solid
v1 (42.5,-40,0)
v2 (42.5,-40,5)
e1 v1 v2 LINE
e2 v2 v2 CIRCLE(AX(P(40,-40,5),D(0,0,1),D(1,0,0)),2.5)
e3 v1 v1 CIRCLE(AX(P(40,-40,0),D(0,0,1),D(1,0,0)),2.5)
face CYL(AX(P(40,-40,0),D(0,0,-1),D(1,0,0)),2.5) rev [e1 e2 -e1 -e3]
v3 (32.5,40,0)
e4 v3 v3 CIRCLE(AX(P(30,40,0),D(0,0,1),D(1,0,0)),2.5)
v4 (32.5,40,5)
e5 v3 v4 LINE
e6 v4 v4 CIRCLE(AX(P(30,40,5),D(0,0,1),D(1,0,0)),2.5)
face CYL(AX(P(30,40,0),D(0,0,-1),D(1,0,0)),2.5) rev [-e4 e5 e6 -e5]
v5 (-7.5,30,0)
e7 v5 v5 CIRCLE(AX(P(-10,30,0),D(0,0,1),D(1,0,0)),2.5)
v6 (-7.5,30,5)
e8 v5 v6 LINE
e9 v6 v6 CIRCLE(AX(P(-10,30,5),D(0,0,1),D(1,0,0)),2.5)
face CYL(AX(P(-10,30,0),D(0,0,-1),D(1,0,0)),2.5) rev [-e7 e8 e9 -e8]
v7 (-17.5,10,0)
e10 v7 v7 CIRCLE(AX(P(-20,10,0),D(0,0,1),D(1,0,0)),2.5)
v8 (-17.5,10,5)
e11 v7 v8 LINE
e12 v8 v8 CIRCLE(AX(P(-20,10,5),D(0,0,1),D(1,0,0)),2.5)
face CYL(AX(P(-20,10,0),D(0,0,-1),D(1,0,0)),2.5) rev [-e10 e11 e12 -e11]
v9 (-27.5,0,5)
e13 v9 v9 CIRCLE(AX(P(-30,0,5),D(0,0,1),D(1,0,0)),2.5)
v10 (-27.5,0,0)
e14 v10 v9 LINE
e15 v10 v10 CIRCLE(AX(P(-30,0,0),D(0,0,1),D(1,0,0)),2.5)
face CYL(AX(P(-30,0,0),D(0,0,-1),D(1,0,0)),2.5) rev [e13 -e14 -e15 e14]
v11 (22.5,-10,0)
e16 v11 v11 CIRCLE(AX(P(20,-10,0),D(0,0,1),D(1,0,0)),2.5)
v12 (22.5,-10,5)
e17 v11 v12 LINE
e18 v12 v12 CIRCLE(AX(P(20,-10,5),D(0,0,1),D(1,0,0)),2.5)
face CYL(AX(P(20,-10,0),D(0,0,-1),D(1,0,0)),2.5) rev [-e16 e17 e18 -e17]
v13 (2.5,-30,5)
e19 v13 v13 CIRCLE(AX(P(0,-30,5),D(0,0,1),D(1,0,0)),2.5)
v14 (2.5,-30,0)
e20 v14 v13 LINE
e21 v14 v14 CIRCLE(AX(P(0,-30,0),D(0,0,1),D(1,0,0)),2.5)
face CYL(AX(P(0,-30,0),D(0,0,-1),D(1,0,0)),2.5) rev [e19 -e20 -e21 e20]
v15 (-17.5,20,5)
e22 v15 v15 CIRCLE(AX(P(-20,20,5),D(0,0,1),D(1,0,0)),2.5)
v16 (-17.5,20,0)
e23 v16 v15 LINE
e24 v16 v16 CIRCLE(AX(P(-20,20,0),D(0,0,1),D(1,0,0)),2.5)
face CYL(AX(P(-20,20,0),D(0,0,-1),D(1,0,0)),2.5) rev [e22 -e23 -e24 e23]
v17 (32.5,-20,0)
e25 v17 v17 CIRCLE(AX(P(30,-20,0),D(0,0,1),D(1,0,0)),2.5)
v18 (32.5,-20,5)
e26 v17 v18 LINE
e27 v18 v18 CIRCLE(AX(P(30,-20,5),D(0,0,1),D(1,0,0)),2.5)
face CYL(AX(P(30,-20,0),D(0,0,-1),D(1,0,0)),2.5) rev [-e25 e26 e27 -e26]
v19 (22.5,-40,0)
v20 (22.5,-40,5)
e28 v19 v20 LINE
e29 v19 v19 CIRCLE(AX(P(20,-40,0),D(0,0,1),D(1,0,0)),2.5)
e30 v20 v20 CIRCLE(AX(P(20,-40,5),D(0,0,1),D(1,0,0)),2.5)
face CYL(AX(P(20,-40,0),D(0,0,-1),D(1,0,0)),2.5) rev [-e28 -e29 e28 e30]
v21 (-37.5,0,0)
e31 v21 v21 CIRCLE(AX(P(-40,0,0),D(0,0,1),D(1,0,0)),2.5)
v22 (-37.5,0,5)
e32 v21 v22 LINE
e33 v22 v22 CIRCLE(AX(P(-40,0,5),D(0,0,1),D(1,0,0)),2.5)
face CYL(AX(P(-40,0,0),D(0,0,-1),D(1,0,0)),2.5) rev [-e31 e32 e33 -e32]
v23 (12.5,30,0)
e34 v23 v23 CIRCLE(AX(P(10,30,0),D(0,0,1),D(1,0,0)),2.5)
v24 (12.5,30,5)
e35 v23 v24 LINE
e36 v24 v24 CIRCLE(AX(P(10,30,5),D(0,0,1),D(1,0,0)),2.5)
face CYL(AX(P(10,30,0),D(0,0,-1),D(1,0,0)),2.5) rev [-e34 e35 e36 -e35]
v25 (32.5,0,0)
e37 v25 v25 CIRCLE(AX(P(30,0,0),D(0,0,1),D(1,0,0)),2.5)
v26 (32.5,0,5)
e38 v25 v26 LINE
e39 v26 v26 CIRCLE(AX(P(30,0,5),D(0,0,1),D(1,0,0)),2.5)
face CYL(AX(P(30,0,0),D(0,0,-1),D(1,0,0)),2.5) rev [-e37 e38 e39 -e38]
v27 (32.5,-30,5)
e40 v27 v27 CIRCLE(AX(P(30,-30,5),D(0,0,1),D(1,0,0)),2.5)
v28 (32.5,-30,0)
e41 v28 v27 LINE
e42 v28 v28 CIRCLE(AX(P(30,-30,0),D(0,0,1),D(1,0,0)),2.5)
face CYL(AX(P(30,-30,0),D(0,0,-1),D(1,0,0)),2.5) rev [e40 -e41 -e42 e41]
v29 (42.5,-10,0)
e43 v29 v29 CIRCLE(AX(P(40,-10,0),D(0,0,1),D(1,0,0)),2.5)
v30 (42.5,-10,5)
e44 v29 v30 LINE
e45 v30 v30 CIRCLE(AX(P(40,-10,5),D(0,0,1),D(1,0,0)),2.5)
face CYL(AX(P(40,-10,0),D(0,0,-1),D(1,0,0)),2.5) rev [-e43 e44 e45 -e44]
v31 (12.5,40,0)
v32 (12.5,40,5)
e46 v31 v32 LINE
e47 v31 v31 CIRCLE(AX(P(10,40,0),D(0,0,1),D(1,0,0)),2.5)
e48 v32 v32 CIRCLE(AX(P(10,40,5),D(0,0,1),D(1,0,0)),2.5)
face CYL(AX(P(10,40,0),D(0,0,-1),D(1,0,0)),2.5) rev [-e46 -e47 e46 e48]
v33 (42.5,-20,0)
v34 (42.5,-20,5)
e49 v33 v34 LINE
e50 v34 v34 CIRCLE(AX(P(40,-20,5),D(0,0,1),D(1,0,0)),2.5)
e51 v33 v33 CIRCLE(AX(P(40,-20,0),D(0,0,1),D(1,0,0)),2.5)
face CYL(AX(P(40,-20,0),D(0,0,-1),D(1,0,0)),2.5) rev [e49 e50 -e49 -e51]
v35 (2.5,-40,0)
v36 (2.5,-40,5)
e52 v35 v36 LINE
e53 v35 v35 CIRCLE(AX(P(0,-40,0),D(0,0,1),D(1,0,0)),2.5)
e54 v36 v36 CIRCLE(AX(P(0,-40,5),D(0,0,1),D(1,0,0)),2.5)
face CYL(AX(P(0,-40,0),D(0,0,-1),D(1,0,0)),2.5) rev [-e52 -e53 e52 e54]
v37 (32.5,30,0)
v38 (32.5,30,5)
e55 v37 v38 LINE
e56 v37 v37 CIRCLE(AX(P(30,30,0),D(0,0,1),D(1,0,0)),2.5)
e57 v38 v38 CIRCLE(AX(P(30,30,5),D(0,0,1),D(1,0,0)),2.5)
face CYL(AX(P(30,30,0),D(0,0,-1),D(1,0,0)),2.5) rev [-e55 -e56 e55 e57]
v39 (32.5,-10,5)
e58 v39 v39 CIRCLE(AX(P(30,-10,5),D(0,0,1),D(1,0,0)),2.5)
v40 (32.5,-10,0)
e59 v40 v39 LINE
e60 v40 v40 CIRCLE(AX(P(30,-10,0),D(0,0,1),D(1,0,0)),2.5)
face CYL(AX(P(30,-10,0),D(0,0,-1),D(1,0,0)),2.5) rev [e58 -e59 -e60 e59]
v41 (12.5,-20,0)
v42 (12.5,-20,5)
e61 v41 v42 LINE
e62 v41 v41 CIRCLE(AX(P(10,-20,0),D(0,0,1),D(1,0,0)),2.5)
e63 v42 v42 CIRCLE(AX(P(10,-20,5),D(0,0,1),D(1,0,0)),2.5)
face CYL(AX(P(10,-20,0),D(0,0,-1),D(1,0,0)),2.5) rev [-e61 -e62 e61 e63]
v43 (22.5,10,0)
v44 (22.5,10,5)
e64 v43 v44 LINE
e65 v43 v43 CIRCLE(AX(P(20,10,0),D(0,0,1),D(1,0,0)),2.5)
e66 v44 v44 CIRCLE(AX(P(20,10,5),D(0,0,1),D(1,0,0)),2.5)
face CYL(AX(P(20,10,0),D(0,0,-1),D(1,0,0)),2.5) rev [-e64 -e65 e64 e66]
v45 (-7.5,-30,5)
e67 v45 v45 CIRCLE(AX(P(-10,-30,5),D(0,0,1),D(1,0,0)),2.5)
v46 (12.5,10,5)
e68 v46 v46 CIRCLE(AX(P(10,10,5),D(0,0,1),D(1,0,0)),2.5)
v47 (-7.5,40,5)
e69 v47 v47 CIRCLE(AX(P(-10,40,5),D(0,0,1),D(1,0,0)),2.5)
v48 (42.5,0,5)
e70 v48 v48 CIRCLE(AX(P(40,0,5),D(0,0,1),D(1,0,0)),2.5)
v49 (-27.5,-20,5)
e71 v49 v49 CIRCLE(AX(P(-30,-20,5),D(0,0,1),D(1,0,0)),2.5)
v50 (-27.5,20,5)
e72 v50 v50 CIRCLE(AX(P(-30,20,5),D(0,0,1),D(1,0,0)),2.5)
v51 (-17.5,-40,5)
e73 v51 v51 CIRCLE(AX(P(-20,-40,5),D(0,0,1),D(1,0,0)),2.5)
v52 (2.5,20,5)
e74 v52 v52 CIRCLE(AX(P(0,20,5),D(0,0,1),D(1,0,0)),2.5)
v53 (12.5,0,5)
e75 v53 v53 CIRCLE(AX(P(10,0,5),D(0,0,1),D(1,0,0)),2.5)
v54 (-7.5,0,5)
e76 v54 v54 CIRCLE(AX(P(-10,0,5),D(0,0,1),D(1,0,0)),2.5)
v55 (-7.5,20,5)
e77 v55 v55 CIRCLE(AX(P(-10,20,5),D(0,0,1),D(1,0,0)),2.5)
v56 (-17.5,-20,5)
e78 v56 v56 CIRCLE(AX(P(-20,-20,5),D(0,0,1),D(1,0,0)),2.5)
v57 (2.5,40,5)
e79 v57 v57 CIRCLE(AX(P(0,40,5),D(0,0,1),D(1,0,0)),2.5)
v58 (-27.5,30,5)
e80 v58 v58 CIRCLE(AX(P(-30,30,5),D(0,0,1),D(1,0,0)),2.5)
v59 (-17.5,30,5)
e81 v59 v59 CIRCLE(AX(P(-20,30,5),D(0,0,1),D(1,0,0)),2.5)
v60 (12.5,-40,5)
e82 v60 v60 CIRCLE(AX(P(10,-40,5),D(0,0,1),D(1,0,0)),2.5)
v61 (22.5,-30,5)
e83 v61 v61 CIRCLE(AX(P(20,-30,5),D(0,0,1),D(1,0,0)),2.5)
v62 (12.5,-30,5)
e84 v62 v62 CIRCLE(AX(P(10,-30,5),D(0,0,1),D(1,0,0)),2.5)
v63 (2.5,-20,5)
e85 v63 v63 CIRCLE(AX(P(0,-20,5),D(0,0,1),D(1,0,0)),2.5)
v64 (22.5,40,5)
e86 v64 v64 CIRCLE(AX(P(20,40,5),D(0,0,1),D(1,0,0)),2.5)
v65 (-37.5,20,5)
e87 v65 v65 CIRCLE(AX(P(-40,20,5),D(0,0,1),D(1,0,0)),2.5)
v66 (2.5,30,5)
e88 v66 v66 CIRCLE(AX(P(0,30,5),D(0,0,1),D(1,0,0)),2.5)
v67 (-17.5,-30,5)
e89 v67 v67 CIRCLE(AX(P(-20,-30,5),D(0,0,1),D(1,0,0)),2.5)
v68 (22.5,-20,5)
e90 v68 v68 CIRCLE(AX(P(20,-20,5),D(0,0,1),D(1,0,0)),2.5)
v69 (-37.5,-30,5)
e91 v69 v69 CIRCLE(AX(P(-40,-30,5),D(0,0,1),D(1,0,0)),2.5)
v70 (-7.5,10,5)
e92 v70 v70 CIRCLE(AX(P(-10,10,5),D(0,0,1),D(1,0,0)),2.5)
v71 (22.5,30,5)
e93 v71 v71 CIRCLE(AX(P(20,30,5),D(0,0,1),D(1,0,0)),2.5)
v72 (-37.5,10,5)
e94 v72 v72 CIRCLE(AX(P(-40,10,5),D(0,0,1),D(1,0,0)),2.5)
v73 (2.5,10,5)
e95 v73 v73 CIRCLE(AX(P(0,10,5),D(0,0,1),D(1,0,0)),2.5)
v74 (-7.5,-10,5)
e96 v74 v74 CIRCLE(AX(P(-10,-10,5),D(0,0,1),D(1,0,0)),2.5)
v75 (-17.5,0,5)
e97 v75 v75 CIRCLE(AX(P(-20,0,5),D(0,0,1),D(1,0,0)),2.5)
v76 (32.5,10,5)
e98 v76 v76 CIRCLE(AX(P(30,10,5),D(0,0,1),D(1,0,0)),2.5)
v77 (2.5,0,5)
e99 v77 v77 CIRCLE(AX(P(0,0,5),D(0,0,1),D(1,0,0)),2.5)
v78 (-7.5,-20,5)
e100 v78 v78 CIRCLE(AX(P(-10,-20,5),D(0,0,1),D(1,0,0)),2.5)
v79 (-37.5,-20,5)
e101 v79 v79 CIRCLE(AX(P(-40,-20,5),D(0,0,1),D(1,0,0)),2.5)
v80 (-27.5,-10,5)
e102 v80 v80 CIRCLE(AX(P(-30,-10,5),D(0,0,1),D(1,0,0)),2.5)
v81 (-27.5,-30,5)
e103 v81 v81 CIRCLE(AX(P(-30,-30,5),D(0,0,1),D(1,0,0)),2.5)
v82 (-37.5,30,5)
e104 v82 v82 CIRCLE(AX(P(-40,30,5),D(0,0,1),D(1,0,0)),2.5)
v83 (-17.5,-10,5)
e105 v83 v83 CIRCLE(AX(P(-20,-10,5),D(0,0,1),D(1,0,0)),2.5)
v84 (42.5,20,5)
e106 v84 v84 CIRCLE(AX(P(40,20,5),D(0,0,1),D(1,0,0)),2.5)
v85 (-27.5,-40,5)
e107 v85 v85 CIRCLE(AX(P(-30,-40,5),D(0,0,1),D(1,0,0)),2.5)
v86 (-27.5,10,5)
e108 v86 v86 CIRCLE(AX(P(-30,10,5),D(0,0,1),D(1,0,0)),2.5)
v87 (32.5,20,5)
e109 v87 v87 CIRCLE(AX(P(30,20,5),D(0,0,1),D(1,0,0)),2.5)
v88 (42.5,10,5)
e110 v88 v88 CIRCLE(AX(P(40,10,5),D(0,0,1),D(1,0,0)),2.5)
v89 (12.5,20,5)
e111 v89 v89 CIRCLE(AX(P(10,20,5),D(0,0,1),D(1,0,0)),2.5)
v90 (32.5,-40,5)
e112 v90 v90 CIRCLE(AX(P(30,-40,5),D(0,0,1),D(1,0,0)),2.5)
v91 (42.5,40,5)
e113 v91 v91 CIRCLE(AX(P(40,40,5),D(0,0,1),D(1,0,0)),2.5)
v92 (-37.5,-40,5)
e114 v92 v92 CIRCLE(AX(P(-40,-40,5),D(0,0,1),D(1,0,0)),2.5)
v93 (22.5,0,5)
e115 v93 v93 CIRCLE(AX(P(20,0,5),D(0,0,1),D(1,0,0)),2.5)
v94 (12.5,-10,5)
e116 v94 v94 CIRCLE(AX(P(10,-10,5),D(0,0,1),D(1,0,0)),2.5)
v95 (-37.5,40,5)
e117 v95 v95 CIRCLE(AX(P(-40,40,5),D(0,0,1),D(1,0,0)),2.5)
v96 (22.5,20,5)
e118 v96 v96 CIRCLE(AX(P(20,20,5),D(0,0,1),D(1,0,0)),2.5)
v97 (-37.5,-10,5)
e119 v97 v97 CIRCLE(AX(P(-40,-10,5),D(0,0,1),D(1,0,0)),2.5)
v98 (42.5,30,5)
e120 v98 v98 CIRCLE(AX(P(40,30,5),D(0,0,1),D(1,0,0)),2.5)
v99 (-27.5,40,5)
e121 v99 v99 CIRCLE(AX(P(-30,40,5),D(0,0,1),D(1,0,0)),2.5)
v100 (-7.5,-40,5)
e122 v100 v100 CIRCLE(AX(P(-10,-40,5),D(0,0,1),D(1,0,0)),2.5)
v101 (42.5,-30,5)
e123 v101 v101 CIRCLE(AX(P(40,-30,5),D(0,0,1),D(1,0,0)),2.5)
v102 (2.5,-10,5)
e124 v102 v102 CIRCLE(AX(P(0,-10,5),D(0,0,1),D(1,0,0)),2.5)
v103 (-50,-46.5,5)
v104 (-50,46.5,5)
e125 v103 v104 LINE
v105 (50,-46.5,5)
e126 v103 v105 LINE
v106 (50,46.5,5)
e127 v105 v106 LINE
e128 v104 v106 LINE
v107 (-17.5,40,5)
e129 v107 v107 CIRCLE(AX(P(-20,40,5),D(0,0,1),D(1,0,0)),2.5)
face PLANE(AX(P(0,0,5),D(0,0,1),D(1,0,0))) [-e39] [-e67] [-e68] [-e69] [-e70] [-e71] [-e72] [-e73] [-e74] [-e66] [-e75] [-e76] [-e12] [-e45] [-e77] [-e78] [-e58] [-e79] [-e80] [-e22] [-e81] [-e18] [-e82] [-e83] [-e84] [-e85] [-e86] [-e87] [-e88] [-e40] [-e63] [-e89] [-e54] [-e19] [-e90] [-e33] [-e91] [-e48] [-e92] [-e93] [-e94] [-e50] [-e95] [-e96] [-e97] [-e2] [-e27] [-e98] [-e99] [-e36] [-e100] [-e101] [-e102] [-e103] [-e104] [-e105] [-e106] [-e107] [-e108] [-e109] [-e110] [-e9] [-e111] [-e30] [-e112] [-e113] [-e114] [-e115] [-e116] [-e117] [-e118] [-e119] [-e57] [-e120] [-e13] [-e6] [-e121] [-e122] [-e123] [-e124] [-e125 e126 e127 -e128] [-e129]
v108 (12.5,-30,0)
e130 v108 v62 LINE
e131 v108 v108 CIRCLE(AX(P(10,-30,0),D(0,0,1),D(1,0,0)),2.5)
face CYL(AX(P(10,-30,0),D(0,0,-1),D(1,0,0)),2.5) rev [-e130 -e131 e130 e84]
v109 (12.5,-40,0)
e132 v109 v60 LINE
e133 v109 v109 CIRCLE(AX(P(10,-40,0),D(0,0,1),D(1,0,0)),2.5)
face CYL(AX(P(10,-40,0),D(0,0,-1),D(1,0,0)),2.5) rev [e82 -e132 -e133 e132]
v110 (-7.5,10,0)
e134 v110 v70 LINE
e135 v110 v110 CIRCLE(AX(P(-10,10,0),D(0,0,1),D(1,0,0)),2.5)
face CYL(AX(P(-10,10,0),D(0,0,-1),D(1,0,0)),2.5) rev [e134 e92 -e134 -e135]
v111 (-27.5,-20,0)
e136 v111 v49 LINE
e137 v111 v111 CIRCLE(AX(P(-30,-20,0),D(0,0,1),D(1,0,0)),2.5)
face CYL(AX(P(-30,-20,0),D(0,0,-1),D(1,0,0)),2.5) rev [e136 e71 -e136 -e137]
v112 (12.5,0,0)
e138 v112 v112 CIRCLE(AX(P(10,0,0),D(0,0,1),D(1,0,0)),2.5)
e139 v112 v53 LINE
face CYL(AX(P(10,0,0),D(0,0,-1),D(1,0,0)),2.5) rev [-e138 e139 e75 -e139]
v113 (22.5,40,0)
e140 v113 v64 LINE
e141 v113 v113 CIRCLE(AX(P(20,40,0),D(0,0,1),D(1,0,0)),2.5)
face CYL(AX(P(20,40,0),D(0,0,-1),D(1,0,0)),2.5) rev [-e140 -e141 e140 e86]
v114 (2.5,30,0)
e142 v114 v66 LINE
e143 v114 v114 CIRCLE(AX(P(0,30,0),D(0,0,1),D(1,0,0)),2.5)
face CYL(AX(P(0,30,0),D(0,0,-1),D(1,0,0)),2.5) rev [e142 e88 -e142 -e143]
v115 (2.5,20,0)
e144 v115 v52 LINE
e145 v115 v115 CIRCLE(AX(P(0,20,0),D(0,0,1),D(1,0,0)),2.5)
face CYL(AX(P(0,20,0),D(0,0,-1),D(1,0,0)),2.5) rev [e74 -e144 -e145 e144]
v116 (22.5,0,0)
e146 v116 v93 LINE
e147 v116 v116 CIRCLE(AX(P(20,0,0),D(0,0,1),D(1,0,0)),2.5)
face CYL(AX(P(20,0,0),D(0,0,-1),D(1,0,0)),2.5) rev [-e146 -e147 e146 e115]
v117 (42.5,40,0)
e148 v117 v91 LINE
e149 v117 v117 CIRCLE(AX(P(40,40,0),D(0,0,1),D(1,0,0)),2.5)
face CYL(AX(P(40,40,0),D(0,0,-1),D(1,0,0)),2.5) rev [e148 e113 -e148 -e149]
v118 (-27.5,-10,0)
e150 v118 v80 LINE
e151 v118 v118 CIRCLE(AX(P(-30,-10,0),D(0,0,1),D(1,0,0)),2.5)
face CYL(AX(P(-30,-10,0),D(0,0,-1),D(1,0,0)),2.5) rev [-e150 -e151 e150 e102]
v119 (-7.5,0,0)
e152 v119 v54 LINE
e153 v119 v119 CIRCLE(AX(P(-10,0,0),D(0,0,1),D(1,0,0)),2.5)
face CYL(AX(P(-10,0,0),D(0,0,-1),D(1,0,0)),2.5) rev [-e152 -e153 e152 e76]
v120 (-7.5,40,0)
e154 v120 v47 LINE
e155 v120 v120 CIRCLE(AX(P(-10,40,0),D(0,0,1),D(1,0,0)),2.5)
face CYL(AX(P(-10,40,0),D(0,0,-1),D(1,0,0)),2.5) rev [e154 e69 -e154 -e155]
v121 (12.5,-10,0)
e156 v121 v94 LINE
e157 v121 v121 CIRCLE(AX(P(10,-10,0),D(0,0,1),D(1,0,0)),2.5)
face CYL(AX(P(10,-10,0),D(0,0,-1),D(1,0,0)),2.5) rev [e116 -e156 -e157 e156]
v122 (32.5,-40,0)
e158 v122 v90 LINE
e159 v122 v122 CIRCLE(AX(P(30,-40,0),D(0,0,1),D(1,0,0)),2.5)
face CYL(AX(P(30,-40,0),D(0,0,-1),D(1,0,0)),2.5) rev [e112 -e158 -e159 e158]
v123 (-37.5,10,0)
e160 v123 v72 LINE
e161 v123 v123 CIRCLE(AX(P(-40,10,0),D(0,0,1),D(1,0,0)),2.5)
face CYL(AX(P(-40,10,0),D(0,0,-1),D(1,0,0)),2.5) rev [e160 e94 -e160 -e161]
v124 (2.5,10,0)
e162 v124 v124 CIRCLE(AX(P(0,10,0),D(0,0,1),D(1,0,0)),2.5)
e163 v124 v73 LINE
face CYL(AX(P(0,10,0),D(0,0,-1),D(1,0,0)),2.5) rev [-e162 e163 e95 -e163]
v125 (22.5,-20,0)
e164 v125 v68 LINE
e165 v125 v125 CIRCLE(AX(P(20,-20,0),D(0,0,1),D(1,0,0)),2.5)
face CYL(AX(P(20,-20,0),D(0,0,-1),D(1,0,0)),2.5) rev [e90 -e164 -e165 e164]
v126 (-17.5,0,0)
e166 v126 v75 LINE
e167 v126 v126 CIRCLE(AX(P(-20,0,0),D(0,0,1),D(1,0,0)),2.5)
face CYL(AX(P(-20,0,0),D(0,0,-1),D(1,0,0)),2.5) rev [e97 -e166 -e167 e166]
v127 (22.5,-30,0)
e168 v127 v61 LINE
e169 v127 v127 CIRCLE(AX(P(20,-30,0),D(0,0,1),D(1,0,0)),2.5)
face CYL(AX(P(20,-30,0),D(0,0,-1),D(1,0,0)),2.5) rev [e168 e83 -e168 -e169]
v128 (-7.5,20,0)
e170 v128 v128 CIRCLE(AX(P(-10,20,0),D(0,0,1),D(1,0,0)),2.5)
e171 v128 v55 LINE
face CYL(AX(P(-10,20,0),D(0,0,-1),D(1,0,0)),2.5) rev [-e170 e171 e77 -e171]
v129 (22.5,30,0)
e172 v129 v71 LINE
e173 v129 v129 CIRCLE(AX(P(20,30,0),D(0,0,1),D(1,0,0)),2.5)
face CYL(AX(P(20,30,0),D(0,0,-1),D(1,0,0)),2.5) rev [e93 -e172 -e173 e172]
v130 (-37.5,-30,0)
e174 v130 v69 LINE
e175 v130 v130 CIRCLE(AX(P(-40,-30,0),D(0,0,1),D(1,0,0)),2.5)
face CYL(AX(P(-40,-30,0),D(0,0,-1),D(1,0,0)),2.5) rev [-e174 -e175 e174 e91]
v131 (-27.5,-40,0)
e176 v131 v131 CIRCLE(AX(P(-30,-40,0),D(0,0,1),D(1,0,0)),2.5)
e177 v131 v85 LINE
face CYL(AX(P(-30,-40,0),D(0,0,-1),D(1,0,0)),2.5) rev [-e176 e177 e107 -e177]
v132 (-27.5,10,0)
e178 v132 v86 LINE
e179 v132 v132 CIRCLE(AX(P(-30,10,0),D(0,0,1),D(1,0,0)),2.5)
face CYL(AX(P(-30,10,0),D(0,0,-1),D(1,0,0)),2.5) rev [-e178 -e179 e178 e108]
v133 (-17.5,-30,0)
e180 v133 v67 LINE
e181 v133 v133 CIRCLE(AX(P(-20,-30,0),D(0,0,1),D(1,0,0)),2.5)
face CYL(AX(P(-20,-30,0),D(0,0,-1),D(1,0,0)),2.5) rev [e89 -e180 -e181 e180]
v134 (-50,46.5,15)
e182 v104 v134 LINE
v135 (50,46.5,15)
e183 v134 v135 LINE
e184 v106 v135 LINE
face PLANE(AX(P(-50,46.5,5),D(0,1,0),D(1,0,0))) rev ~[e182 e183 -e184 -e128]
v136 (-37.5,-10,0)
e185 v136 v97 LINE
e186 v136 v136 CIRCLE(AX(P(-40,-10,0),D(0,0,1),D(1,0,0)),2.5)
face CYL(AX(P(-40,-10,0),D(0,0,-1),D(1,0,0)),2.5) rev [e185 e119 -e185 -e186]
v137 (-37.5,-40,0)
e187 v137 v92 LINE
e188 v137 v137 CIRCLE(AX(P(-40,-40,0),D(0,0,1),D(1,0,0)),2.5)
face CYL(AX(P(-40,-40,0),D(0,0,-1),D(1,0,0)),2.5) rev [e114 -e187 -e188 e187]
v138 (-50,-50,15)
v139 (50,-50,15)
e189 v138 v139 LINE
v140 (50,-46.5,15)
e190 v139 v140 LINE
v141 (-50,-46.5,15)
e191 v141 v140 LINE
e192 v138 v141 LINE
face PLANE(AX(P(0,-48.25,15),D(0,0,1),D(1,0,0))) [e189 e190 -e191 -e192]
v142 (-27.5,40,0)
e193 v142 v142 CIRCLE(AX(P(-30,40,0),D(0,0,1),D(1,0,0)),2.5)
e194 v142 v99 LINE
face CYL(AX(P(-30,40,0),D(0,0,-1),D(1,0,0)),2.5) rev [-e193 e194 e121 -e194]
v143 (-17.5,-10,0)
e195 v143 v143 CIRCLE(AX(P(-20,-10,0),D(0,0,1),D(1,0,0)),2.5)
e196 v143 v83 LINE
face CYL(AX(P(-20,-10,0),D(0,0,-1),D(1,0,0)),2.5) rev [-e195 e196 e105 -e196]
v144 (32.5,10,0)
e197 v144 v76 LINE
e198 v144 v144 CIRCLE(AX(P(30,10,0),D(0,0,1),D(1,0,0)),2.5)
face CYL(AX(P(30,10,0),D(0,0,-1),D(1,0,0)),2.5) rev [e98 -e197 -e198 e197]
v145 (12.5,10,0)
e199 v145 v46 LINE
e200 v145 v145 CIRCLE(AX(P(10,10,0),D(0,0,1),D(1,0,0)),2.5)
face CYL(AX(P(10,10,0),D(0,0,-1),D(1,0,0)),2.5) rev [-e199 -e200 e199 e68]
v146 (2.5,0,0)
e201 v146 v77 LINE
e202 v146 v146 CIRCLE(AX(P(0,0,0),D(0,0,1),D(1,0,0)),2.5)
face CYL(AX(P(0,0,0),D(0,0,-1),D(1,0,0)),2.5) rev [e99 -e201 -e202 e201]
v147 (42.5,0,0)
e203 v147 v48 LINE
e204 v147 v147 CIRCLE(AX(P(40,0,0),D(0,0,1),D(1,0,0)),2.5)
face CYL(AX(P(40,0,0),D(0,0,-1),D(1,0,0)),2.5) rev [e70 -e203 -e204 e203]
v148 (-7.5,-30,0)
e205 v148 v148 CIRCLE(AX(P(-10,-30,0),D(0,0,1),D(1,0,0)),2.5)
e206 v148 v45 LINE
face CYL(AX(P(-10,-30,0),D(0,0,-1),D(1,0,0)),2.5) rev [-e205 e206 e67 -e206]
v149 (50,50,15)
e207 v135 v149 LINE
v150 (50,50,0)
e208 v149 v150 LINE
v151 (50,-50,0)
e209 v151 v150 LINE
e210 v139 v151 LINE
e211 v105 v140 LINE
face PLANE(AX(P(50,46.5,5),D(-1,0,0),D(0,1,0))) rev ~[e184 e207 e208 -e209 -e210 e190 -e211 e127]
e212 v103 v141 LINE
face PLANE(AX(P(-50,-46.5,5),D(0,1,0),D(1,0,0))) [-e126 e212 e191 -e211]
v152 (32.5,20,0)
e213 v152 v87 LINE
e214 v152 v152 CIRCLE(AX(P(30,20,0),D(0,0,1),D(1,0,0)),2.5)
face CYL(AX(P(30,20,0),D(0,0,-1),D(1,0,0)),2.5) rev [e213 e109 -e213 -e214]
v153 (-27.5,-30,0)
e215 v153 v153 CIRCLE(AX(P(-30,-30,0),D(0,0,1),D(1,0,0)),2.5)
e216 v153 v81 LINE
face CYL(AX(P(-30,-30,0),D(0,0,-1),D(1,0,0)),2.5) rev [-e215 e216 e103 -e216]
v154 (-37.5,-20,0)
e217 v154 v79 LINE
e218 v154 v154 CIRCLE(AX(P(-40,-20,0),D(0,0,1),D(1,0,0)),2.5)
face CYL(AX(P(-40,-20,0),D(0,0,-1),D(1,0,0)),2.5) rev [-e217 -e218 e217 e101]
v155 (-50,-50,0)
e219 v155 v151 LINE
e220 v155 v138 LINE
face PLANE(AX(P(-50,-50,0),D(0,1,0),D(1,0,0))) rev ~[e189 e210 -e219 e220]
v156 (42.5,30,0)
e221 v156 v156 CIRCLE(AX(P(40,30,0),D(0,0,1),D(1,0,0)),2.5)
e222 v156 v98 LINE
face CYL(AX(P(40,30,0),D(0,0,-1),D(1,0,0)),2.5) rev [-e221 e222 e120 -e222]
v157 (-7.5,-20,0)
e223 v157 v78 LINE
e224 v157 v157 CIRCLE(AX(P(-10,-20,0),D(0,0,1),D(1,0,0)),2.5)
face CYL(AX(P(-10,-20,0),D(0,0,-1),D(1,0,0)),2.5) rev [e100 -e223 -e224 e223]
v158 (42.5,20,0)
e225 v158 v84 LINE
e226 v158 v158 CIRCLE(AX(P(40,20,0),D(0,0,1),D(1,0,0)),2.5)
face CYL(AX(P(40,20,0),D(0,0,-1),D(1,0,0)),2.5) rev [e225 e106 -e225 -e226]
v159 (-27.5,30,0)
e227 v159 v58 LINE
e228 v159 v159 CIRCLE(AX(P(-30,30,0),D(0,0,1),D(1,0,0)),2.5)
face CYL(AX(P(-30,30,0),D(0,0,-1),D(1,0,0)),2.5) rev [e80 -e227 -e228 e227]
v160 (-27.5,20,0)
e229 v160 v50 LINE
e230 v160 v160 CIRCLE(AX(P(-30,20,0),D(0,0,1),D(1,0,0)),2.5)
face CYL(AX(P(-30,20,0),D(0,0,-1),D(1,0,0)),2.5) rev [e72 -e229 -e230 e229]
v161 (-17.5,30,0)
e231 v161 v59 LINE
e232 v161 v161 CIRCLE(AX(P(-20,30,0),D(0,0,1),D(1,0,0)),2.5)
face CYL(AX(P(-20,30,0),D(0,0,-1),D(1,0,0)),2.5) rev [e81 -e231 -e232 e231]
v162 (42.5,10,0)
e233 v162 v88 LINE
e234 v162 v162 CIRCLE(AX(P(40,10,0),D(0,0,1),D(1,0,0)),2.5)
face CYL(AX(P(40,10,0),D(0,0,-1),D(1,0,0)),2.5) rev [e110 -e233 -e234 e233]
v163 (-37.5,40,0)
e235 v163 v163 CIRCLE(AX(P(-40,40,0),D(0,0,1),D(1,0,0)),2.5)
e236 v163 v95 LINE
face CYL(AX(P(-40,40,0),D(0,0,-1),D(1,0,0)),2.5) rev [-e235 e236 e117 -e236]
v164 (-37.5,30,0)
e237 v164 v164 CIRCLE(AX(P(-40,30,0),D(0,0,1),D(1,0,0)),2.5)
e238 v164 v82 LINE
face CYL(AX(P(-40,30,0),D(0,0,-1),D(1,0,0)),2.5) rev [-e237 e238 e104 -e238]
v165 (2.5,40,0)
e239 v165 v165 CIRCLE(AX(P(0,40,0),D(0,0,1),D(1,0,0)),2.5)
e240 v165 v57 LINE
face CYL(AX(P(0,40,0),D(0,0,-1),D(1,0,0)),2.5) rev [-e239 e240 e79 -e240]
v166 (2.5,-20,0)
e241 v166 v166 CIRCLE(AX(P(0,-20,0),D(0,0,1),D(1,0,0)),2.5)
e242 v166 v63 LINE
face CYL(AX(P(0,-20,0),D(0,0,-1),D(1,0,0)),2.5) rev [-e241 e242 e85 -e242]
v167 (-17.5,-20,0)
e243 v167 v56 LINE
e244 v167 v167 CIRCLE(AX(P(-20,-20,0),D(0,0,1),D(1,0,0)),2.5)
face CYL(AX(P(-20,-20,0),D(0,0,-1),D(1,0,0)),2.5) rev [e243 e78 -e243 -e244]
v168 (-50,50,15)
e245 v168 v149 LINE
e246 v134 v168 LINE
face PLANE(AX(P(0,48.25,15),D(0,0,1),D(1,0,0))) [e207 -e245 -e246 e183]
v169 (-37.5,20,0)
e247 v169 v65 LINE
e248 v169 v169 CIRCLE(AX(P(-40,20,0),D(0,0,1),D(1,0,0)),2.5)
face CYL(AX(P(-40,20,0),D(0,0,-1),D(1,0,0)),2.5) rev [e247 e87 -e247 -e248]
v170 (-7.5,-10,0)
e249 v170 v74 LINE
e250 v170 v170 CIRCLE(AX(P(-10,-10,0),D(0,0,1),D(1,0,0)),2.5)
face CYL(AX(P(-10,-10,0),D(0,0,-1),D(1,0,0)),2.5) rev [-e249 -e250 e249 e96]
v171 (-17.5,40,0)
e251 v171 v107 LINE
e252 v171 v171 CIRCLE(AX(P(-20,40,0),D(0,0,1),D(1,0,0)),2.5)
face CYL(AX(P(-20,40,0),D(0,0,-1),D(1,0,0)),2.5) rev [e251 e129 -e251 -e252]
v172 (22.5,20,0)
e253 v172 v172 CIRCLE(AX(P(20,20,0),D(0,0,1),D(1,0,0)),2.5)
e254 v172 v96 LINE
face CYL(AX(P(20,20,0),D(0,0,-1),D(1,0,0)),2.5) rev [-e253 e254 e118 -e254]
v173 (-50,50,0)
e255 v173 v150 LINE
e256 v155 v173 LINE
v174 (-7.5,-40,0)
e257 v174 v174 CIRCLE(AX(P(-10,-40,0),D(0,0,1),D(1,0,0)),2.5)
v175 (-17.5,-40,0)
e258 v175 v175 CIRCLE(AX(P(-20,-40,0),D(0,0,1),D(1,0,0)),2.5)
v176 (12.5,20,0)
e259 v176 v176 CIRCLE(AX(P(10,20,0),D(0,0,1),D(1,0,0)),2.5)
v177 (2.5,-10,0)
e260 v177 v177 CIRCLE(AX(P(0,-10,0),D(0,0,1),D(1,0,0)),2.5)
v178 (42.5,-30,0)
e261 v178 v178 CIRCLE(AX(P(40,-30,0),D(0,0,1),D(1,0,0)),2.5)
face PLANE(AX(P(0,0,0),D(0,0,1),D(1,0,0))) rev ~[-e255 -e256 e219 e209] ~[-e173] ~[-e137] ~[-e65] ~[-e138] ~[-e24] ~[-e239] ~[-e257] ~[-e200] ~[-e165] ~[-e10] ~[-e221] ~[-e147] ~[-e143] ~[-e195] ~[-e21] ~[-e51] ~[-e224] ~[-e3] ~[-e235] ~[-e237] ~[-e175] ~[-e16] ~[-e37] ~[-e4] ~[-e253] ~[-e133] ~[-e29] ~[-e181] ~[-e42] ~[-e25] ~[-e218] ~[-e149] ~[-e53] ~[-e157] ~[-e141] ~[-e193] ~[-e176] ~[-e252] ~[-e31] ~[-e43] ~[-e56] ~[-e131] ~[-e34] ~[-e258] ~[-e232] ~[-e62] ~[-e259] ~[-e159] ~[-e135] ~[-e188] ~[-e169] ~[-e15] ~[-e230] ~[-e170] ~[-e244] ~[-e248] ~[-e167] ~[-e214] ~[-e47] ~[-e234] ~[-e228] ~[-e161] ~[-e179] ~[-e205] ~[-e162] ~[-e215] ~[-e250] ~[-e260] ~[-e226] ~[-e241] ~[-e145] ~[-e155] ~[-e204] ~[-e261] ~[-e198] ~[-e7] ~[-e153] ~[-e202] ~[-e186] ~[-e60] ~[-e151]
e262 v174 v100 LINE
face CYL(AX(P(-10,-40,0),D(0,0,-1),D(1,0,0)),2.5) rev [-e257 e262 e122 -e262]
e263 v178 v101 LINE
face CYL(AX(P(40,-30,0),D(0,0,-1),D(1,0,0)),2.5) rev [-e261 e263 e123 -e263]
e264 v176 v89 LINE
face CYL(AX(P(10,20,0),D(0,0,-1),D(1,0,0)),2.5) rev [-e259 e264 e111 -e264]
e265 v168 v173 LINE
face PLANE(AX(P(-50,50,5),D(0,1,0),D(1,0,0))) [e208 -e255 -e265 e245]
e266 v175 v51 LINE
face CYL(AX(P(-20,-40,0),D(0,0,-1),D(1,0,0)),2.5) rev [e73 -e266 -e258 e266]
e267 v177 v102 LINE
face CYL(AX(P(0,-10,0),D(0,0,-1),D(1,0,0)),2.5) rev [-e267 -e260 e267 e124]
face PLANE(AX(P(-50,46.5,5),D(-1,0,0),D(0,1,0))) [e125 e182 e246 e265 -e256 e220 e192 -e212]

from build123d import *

# Parameters (mm, degrees)
SKETCH1_W           = 100
SKETCH1_H           = 100
SKETCH1_R           = 2.5
BOSS_EXTRUDE1_DEPTH = 5
SKETCH2_W           = 100
SKETCH2_H           = 3.5
BOSS_EXTRUDE2_DEPTH = 10


with BuildPart() as part:
    # Sketch1 → Boss-Extrude1 (new body)
    with BuildSketch(Plane.XY):
        Rectangle(SKETCH1_W, SKETCH1_H)
        with Locations((-40, 40)):
            Circle(SKETCH1_R, mode=Mode.SUBTRACT)
        with Locations((-30, 40)):
            Circle(SKETCH1_R, mode=Mode.SUBTRACT)
        with Locations((-20, 40)):
            Circle(SKETCH1_R, mode=Mode.SUBTRACT)
        with Locations((-10, 40)):
            Circle(SKETCH1_R, mode=Mode.SUBTRACT)
        with Locations((0, 40)):
            Circle(SKETCH1_R, mode=Mode.SUBTRACT)
        with Locations((10, 40)):
            Circle(SKETCH1_R, mode=Mode.SUBTRACT)
        with Locations((20, 40)):
            Circle(SKETCH1_R, mode=Mode.SUBTRACT)
        with Locations((30, 40)):
            Circle(SKETCH1_R, mode=Mode.SUBTRACT)
        with Locations((40, 40)):
            Circle(SKETCH1_R, mode=Mode.SUBTRACT)
        with Locations((-40, 30)):
            Circle(SKETCH1_R, mode=Mode.SUBTRACT)
        with Locations((-30, 30)):
            Circle(SKETCH1_R, mode=Mode.SUBTRACT)
        with Locations((-20, 30)):
            Circle(SKETCH1_R, mode=Mode.SUBTRACT)
        with Locations((-10, 30)):
            Circle(SKETCH1_R, mode=Mode.SUBTRACT)
        with Locations((0, 30)):
            Circle(SKETCH1_R, mode=Mode.SUBTRACT)
        with Locations((10, 30)):
            Circle(SKETCH1_R, mode=Mode.SUBTRACT)
        with Locations((20, 30)):
            Circle(SKETCH1_R, mode=Mode.SUBTRACT)
        with Locations((30, 30)):
            Circle(SKETCH1_R, mode=Mode.SUBTRACT)
        with Locations((40, 30)):
            Circle(SKETCH1_R, mode=Mode.SUBTRACT)
        with Locations((-40, 20)):
            Circle(SKETCH1_R, mode=Mode.SUBTRACT)
        with Locations((-30, 20)):
            Circle(SKETCH1_R, mode=Mode.SUBTRACT)
        with Locations((-20, 20)):
            Circle(SKETCH1_R, mode=Mode.SUBTRACT)
        with Locations((-10, 20)):
            Circle(SKETCH1_R, mode=Mode.SUBTRACT)
        with Locations((0, 20)):
            Circle(SKETCH1_R, mode=Mode.SUBTRACT)
        with Locations((10, 20)):
            Circle(SKETCH1_R, mode=Mode.SUBTRACT)
        with Locations((20, 20)):
            Circle(SKETCH1_R, mode=Mode.SUBTRACT)
        with Locations((30, 20)):
            Circle(SKETCH1_R, mode=Mode.SUBTRACT)
        with Locations((40, 20)):
            Circle(SKETCH1_R, mode=Mode.SUBTRACT)
        with Locations((-40, 10)):
            Circle(SKETCH1_R, mode=Mode.SUBTRACT)
        with Locations((-30, 10)):
            Circle(SKETCH1_R, mode=Mode.SUBTRACT)
        with Locations((-20, 10)):
            Circle(SKETCH1_R, mode=Mode.SUBTRACT)
        with Locations((-10, 10)):
            Circle(SKETCH1_R, mode=Mode.SUBTRACT)
        with Locations((0, 10)):
            Circle(SKETCH1_R, mode=Mode.SUBTRACT)
        with Locations((10, 10)):
            Circle(SKETCH1_R, mode=Mode.SUBTRACT)
        with Locations((20, 10)):
            Circle(SKETCH1_R, mode=Mode.SUBTRACT)
        with Locations((30, 10)):
            Circle(SKETCH1_R, mode=Mode.SUBTRACT)
        with Locations((40, 10)):
            Circle(SKETCH1_R, mode=Mode.SUBTRACT)
        with Locations((-40, 0)):
            Circle(SKETCH1_R, mode=Mode.SUBTRACT)
        with Locations((-30, 0)):
            Circle(SKETCH1_R, mode=Mode.SUBTRACT)
        with Locations((-20, 0)):
            Circle(SKETCH1_R, mode=Mode.SUBTRACT)
        with Locations((-10, 0)):
            Circle(SKETCH1_R, mode=Mode.SUBTRACT)
        Circle(SKETCH1_R, mode=Mode.SUBTRACT)
        with Locations((10, 0)):
            Circle(SKETCH1_R, mode=Mode.SUBTRACT)
        with Locations((20, 0)):
            Circle(SKETCH1_R, mode=Mode.SUBTRACT)
        with Locations((30, 0)):
            Circle(SKETCH1_R, mode=Mode.SUBTRACT)
        with Locations((40, 0)):
            Circle(SKETCH1_R, mode=Mode.SUBTRACT)
        with Locations((-40, -10)):
            Circle(SKETCH1_R, mode=Mode.SUBTRACT)
        with Locations((-30, -10)):
            Circle(SKETCH1_R, mode=Mode.SUBTRACT)
        with Locations((-20, -10)):
            Circle(SKETCH1_R, mode=Mode.SUBTRACT)
        with Locations((-10, -10)):
            Circle(SKETCH1_R, mode=Mode.SUBTRACT)
        with Locations((0, -10)):
            Circle(SKETCH1_R, mode=Mode.SUBTRACT)
        with Locations((10, -10)):
            Circle(SKETCH1_R, mode=Mode.SUBTRACT)
        with Locations((20, -10)):
            Circle(SKETCH1_R, mode=Mode.SUBTRACT)
        with Locations((30, -10)):
            Circle(SKETCH1_R, mode=Mode.SUBTRACT)
        with Locations((40, -10)):
            Circle(SKETCH1_R, mode=Mode.SUBTRACT)
        with Locations((-40, -20)):
            Circle(SKETCH1_R, mode=Mode.SUBTRACT)
        with Locations((-30, -20)):
            Circle(SKETCH1_R, mode=Mode.SUBTRACT)
        with Locations((-20, -20)):
            Circle(SKETCH1_R, mode=Mode.SUBTRACT)
        with Locations((-10, -20)):
            Circle(SKETCH1_R, mode=Mode.SUBTRACT)
        with Locations((0, -20)):
            Circle(SKETCH1_R, mode=Mode.SUBTRACT)
        with Locations((10, -20)):
            Circle(SKETCH1_R, mode=Mode.SUBTRACT)
        with Locations((20, -20)):
            Circle(SKETCH1_R, mode=Mode.SUBTRACT)
        with Locations((30, -20)):
            Circle(SKETCH1_R, mode=Mode.SUBTRACT)
        with Locations((40, -20)):
            Circle(SKETCH1_R, mode=Mode.SUBTRACT)
        with Locations((-40, -30)):
            Circle(SKETCH1_R, mode=Mode.SUBTRACT)
        with Locations((-30, -30)):
            Circle(SKETCH1_R, mode=Mode.SUBTRACT)
        with Locations((-20, -30)):
            Circle(SKETCH1_R, mode=Mode.SUBTRACT)
        with Locations((-10, -30)):
            Circle(SKETCH1_R, mode=Mode.SUBTRACT)
        with Locations((0, -30)):
            Circle(SKETCH1_R, mode=Mode.SUBTRACT)
        with Locations((10, -30)):
            Circle(SKETCH1_R, mode=Mode.SUBTRACT)
        with Locations((20, -30)):
            Circle(SKETCH1_R, mode=Mode.SUBTRACT)
        with Locations((30, -30)):
            Circle(SKETCH1_R, mode=Mode.SUBTRACT)
        with Locations((40, -30)):
            Circle(SKETCH1_R, mode=Mode.SUBTRACT)
        with Locations((-40, -40)):
            Circle(SKETCH1_R, mode=Mode.SUBTRACT)
        with Locations((-30, -40)):
            Circle(SKETCH1_R, mode=Mode.SUBTRACT)
        with Locations((-20, -40)):
            Circle(SKETCH1_R, mode=Mode.SUBTRACT)
        with Locations((-10, -40)):
            Circle(SKETCH1_R, mode=Mode.SUBTRACT)
        with Locations((0, -40)):
            Circle(SKETCH1_R, mode=Mode.SUBTRACT)
        with Locations((10, -40)):
            Circle(SKETCH1_R, mode=Mode.SUBTRACT)
        with Locations((20, -40)):
            Circle(SKETCH1_R, mode=Mode.SUBTRACT)
        with Locations((30, -40)):
            Circle(SKETCH1_R, mode=Mode.SUBTRACT)
        with Locations((40, -40)):
            Circle(SKETCH1_R, mode=Mode.SUBTRACT)
    extrude(amount=BOSS_EXTRUDE1_DEPTH)

    # Sketch2 → Boss-Extrude2 (add)
    with BuildSketch(Plane.XY.offset(5)):
        with Locations((0, 48.25)):
            Rectangle(SKETCH2_W, SKETCH2_H)
        with Locations((0, -48.25)):
            Rectangle(SKETCH2_W, SKETCH2_H)
    extrude(amount=BOSS_EXTRUDE2_DEPTH)


solid = part.part
